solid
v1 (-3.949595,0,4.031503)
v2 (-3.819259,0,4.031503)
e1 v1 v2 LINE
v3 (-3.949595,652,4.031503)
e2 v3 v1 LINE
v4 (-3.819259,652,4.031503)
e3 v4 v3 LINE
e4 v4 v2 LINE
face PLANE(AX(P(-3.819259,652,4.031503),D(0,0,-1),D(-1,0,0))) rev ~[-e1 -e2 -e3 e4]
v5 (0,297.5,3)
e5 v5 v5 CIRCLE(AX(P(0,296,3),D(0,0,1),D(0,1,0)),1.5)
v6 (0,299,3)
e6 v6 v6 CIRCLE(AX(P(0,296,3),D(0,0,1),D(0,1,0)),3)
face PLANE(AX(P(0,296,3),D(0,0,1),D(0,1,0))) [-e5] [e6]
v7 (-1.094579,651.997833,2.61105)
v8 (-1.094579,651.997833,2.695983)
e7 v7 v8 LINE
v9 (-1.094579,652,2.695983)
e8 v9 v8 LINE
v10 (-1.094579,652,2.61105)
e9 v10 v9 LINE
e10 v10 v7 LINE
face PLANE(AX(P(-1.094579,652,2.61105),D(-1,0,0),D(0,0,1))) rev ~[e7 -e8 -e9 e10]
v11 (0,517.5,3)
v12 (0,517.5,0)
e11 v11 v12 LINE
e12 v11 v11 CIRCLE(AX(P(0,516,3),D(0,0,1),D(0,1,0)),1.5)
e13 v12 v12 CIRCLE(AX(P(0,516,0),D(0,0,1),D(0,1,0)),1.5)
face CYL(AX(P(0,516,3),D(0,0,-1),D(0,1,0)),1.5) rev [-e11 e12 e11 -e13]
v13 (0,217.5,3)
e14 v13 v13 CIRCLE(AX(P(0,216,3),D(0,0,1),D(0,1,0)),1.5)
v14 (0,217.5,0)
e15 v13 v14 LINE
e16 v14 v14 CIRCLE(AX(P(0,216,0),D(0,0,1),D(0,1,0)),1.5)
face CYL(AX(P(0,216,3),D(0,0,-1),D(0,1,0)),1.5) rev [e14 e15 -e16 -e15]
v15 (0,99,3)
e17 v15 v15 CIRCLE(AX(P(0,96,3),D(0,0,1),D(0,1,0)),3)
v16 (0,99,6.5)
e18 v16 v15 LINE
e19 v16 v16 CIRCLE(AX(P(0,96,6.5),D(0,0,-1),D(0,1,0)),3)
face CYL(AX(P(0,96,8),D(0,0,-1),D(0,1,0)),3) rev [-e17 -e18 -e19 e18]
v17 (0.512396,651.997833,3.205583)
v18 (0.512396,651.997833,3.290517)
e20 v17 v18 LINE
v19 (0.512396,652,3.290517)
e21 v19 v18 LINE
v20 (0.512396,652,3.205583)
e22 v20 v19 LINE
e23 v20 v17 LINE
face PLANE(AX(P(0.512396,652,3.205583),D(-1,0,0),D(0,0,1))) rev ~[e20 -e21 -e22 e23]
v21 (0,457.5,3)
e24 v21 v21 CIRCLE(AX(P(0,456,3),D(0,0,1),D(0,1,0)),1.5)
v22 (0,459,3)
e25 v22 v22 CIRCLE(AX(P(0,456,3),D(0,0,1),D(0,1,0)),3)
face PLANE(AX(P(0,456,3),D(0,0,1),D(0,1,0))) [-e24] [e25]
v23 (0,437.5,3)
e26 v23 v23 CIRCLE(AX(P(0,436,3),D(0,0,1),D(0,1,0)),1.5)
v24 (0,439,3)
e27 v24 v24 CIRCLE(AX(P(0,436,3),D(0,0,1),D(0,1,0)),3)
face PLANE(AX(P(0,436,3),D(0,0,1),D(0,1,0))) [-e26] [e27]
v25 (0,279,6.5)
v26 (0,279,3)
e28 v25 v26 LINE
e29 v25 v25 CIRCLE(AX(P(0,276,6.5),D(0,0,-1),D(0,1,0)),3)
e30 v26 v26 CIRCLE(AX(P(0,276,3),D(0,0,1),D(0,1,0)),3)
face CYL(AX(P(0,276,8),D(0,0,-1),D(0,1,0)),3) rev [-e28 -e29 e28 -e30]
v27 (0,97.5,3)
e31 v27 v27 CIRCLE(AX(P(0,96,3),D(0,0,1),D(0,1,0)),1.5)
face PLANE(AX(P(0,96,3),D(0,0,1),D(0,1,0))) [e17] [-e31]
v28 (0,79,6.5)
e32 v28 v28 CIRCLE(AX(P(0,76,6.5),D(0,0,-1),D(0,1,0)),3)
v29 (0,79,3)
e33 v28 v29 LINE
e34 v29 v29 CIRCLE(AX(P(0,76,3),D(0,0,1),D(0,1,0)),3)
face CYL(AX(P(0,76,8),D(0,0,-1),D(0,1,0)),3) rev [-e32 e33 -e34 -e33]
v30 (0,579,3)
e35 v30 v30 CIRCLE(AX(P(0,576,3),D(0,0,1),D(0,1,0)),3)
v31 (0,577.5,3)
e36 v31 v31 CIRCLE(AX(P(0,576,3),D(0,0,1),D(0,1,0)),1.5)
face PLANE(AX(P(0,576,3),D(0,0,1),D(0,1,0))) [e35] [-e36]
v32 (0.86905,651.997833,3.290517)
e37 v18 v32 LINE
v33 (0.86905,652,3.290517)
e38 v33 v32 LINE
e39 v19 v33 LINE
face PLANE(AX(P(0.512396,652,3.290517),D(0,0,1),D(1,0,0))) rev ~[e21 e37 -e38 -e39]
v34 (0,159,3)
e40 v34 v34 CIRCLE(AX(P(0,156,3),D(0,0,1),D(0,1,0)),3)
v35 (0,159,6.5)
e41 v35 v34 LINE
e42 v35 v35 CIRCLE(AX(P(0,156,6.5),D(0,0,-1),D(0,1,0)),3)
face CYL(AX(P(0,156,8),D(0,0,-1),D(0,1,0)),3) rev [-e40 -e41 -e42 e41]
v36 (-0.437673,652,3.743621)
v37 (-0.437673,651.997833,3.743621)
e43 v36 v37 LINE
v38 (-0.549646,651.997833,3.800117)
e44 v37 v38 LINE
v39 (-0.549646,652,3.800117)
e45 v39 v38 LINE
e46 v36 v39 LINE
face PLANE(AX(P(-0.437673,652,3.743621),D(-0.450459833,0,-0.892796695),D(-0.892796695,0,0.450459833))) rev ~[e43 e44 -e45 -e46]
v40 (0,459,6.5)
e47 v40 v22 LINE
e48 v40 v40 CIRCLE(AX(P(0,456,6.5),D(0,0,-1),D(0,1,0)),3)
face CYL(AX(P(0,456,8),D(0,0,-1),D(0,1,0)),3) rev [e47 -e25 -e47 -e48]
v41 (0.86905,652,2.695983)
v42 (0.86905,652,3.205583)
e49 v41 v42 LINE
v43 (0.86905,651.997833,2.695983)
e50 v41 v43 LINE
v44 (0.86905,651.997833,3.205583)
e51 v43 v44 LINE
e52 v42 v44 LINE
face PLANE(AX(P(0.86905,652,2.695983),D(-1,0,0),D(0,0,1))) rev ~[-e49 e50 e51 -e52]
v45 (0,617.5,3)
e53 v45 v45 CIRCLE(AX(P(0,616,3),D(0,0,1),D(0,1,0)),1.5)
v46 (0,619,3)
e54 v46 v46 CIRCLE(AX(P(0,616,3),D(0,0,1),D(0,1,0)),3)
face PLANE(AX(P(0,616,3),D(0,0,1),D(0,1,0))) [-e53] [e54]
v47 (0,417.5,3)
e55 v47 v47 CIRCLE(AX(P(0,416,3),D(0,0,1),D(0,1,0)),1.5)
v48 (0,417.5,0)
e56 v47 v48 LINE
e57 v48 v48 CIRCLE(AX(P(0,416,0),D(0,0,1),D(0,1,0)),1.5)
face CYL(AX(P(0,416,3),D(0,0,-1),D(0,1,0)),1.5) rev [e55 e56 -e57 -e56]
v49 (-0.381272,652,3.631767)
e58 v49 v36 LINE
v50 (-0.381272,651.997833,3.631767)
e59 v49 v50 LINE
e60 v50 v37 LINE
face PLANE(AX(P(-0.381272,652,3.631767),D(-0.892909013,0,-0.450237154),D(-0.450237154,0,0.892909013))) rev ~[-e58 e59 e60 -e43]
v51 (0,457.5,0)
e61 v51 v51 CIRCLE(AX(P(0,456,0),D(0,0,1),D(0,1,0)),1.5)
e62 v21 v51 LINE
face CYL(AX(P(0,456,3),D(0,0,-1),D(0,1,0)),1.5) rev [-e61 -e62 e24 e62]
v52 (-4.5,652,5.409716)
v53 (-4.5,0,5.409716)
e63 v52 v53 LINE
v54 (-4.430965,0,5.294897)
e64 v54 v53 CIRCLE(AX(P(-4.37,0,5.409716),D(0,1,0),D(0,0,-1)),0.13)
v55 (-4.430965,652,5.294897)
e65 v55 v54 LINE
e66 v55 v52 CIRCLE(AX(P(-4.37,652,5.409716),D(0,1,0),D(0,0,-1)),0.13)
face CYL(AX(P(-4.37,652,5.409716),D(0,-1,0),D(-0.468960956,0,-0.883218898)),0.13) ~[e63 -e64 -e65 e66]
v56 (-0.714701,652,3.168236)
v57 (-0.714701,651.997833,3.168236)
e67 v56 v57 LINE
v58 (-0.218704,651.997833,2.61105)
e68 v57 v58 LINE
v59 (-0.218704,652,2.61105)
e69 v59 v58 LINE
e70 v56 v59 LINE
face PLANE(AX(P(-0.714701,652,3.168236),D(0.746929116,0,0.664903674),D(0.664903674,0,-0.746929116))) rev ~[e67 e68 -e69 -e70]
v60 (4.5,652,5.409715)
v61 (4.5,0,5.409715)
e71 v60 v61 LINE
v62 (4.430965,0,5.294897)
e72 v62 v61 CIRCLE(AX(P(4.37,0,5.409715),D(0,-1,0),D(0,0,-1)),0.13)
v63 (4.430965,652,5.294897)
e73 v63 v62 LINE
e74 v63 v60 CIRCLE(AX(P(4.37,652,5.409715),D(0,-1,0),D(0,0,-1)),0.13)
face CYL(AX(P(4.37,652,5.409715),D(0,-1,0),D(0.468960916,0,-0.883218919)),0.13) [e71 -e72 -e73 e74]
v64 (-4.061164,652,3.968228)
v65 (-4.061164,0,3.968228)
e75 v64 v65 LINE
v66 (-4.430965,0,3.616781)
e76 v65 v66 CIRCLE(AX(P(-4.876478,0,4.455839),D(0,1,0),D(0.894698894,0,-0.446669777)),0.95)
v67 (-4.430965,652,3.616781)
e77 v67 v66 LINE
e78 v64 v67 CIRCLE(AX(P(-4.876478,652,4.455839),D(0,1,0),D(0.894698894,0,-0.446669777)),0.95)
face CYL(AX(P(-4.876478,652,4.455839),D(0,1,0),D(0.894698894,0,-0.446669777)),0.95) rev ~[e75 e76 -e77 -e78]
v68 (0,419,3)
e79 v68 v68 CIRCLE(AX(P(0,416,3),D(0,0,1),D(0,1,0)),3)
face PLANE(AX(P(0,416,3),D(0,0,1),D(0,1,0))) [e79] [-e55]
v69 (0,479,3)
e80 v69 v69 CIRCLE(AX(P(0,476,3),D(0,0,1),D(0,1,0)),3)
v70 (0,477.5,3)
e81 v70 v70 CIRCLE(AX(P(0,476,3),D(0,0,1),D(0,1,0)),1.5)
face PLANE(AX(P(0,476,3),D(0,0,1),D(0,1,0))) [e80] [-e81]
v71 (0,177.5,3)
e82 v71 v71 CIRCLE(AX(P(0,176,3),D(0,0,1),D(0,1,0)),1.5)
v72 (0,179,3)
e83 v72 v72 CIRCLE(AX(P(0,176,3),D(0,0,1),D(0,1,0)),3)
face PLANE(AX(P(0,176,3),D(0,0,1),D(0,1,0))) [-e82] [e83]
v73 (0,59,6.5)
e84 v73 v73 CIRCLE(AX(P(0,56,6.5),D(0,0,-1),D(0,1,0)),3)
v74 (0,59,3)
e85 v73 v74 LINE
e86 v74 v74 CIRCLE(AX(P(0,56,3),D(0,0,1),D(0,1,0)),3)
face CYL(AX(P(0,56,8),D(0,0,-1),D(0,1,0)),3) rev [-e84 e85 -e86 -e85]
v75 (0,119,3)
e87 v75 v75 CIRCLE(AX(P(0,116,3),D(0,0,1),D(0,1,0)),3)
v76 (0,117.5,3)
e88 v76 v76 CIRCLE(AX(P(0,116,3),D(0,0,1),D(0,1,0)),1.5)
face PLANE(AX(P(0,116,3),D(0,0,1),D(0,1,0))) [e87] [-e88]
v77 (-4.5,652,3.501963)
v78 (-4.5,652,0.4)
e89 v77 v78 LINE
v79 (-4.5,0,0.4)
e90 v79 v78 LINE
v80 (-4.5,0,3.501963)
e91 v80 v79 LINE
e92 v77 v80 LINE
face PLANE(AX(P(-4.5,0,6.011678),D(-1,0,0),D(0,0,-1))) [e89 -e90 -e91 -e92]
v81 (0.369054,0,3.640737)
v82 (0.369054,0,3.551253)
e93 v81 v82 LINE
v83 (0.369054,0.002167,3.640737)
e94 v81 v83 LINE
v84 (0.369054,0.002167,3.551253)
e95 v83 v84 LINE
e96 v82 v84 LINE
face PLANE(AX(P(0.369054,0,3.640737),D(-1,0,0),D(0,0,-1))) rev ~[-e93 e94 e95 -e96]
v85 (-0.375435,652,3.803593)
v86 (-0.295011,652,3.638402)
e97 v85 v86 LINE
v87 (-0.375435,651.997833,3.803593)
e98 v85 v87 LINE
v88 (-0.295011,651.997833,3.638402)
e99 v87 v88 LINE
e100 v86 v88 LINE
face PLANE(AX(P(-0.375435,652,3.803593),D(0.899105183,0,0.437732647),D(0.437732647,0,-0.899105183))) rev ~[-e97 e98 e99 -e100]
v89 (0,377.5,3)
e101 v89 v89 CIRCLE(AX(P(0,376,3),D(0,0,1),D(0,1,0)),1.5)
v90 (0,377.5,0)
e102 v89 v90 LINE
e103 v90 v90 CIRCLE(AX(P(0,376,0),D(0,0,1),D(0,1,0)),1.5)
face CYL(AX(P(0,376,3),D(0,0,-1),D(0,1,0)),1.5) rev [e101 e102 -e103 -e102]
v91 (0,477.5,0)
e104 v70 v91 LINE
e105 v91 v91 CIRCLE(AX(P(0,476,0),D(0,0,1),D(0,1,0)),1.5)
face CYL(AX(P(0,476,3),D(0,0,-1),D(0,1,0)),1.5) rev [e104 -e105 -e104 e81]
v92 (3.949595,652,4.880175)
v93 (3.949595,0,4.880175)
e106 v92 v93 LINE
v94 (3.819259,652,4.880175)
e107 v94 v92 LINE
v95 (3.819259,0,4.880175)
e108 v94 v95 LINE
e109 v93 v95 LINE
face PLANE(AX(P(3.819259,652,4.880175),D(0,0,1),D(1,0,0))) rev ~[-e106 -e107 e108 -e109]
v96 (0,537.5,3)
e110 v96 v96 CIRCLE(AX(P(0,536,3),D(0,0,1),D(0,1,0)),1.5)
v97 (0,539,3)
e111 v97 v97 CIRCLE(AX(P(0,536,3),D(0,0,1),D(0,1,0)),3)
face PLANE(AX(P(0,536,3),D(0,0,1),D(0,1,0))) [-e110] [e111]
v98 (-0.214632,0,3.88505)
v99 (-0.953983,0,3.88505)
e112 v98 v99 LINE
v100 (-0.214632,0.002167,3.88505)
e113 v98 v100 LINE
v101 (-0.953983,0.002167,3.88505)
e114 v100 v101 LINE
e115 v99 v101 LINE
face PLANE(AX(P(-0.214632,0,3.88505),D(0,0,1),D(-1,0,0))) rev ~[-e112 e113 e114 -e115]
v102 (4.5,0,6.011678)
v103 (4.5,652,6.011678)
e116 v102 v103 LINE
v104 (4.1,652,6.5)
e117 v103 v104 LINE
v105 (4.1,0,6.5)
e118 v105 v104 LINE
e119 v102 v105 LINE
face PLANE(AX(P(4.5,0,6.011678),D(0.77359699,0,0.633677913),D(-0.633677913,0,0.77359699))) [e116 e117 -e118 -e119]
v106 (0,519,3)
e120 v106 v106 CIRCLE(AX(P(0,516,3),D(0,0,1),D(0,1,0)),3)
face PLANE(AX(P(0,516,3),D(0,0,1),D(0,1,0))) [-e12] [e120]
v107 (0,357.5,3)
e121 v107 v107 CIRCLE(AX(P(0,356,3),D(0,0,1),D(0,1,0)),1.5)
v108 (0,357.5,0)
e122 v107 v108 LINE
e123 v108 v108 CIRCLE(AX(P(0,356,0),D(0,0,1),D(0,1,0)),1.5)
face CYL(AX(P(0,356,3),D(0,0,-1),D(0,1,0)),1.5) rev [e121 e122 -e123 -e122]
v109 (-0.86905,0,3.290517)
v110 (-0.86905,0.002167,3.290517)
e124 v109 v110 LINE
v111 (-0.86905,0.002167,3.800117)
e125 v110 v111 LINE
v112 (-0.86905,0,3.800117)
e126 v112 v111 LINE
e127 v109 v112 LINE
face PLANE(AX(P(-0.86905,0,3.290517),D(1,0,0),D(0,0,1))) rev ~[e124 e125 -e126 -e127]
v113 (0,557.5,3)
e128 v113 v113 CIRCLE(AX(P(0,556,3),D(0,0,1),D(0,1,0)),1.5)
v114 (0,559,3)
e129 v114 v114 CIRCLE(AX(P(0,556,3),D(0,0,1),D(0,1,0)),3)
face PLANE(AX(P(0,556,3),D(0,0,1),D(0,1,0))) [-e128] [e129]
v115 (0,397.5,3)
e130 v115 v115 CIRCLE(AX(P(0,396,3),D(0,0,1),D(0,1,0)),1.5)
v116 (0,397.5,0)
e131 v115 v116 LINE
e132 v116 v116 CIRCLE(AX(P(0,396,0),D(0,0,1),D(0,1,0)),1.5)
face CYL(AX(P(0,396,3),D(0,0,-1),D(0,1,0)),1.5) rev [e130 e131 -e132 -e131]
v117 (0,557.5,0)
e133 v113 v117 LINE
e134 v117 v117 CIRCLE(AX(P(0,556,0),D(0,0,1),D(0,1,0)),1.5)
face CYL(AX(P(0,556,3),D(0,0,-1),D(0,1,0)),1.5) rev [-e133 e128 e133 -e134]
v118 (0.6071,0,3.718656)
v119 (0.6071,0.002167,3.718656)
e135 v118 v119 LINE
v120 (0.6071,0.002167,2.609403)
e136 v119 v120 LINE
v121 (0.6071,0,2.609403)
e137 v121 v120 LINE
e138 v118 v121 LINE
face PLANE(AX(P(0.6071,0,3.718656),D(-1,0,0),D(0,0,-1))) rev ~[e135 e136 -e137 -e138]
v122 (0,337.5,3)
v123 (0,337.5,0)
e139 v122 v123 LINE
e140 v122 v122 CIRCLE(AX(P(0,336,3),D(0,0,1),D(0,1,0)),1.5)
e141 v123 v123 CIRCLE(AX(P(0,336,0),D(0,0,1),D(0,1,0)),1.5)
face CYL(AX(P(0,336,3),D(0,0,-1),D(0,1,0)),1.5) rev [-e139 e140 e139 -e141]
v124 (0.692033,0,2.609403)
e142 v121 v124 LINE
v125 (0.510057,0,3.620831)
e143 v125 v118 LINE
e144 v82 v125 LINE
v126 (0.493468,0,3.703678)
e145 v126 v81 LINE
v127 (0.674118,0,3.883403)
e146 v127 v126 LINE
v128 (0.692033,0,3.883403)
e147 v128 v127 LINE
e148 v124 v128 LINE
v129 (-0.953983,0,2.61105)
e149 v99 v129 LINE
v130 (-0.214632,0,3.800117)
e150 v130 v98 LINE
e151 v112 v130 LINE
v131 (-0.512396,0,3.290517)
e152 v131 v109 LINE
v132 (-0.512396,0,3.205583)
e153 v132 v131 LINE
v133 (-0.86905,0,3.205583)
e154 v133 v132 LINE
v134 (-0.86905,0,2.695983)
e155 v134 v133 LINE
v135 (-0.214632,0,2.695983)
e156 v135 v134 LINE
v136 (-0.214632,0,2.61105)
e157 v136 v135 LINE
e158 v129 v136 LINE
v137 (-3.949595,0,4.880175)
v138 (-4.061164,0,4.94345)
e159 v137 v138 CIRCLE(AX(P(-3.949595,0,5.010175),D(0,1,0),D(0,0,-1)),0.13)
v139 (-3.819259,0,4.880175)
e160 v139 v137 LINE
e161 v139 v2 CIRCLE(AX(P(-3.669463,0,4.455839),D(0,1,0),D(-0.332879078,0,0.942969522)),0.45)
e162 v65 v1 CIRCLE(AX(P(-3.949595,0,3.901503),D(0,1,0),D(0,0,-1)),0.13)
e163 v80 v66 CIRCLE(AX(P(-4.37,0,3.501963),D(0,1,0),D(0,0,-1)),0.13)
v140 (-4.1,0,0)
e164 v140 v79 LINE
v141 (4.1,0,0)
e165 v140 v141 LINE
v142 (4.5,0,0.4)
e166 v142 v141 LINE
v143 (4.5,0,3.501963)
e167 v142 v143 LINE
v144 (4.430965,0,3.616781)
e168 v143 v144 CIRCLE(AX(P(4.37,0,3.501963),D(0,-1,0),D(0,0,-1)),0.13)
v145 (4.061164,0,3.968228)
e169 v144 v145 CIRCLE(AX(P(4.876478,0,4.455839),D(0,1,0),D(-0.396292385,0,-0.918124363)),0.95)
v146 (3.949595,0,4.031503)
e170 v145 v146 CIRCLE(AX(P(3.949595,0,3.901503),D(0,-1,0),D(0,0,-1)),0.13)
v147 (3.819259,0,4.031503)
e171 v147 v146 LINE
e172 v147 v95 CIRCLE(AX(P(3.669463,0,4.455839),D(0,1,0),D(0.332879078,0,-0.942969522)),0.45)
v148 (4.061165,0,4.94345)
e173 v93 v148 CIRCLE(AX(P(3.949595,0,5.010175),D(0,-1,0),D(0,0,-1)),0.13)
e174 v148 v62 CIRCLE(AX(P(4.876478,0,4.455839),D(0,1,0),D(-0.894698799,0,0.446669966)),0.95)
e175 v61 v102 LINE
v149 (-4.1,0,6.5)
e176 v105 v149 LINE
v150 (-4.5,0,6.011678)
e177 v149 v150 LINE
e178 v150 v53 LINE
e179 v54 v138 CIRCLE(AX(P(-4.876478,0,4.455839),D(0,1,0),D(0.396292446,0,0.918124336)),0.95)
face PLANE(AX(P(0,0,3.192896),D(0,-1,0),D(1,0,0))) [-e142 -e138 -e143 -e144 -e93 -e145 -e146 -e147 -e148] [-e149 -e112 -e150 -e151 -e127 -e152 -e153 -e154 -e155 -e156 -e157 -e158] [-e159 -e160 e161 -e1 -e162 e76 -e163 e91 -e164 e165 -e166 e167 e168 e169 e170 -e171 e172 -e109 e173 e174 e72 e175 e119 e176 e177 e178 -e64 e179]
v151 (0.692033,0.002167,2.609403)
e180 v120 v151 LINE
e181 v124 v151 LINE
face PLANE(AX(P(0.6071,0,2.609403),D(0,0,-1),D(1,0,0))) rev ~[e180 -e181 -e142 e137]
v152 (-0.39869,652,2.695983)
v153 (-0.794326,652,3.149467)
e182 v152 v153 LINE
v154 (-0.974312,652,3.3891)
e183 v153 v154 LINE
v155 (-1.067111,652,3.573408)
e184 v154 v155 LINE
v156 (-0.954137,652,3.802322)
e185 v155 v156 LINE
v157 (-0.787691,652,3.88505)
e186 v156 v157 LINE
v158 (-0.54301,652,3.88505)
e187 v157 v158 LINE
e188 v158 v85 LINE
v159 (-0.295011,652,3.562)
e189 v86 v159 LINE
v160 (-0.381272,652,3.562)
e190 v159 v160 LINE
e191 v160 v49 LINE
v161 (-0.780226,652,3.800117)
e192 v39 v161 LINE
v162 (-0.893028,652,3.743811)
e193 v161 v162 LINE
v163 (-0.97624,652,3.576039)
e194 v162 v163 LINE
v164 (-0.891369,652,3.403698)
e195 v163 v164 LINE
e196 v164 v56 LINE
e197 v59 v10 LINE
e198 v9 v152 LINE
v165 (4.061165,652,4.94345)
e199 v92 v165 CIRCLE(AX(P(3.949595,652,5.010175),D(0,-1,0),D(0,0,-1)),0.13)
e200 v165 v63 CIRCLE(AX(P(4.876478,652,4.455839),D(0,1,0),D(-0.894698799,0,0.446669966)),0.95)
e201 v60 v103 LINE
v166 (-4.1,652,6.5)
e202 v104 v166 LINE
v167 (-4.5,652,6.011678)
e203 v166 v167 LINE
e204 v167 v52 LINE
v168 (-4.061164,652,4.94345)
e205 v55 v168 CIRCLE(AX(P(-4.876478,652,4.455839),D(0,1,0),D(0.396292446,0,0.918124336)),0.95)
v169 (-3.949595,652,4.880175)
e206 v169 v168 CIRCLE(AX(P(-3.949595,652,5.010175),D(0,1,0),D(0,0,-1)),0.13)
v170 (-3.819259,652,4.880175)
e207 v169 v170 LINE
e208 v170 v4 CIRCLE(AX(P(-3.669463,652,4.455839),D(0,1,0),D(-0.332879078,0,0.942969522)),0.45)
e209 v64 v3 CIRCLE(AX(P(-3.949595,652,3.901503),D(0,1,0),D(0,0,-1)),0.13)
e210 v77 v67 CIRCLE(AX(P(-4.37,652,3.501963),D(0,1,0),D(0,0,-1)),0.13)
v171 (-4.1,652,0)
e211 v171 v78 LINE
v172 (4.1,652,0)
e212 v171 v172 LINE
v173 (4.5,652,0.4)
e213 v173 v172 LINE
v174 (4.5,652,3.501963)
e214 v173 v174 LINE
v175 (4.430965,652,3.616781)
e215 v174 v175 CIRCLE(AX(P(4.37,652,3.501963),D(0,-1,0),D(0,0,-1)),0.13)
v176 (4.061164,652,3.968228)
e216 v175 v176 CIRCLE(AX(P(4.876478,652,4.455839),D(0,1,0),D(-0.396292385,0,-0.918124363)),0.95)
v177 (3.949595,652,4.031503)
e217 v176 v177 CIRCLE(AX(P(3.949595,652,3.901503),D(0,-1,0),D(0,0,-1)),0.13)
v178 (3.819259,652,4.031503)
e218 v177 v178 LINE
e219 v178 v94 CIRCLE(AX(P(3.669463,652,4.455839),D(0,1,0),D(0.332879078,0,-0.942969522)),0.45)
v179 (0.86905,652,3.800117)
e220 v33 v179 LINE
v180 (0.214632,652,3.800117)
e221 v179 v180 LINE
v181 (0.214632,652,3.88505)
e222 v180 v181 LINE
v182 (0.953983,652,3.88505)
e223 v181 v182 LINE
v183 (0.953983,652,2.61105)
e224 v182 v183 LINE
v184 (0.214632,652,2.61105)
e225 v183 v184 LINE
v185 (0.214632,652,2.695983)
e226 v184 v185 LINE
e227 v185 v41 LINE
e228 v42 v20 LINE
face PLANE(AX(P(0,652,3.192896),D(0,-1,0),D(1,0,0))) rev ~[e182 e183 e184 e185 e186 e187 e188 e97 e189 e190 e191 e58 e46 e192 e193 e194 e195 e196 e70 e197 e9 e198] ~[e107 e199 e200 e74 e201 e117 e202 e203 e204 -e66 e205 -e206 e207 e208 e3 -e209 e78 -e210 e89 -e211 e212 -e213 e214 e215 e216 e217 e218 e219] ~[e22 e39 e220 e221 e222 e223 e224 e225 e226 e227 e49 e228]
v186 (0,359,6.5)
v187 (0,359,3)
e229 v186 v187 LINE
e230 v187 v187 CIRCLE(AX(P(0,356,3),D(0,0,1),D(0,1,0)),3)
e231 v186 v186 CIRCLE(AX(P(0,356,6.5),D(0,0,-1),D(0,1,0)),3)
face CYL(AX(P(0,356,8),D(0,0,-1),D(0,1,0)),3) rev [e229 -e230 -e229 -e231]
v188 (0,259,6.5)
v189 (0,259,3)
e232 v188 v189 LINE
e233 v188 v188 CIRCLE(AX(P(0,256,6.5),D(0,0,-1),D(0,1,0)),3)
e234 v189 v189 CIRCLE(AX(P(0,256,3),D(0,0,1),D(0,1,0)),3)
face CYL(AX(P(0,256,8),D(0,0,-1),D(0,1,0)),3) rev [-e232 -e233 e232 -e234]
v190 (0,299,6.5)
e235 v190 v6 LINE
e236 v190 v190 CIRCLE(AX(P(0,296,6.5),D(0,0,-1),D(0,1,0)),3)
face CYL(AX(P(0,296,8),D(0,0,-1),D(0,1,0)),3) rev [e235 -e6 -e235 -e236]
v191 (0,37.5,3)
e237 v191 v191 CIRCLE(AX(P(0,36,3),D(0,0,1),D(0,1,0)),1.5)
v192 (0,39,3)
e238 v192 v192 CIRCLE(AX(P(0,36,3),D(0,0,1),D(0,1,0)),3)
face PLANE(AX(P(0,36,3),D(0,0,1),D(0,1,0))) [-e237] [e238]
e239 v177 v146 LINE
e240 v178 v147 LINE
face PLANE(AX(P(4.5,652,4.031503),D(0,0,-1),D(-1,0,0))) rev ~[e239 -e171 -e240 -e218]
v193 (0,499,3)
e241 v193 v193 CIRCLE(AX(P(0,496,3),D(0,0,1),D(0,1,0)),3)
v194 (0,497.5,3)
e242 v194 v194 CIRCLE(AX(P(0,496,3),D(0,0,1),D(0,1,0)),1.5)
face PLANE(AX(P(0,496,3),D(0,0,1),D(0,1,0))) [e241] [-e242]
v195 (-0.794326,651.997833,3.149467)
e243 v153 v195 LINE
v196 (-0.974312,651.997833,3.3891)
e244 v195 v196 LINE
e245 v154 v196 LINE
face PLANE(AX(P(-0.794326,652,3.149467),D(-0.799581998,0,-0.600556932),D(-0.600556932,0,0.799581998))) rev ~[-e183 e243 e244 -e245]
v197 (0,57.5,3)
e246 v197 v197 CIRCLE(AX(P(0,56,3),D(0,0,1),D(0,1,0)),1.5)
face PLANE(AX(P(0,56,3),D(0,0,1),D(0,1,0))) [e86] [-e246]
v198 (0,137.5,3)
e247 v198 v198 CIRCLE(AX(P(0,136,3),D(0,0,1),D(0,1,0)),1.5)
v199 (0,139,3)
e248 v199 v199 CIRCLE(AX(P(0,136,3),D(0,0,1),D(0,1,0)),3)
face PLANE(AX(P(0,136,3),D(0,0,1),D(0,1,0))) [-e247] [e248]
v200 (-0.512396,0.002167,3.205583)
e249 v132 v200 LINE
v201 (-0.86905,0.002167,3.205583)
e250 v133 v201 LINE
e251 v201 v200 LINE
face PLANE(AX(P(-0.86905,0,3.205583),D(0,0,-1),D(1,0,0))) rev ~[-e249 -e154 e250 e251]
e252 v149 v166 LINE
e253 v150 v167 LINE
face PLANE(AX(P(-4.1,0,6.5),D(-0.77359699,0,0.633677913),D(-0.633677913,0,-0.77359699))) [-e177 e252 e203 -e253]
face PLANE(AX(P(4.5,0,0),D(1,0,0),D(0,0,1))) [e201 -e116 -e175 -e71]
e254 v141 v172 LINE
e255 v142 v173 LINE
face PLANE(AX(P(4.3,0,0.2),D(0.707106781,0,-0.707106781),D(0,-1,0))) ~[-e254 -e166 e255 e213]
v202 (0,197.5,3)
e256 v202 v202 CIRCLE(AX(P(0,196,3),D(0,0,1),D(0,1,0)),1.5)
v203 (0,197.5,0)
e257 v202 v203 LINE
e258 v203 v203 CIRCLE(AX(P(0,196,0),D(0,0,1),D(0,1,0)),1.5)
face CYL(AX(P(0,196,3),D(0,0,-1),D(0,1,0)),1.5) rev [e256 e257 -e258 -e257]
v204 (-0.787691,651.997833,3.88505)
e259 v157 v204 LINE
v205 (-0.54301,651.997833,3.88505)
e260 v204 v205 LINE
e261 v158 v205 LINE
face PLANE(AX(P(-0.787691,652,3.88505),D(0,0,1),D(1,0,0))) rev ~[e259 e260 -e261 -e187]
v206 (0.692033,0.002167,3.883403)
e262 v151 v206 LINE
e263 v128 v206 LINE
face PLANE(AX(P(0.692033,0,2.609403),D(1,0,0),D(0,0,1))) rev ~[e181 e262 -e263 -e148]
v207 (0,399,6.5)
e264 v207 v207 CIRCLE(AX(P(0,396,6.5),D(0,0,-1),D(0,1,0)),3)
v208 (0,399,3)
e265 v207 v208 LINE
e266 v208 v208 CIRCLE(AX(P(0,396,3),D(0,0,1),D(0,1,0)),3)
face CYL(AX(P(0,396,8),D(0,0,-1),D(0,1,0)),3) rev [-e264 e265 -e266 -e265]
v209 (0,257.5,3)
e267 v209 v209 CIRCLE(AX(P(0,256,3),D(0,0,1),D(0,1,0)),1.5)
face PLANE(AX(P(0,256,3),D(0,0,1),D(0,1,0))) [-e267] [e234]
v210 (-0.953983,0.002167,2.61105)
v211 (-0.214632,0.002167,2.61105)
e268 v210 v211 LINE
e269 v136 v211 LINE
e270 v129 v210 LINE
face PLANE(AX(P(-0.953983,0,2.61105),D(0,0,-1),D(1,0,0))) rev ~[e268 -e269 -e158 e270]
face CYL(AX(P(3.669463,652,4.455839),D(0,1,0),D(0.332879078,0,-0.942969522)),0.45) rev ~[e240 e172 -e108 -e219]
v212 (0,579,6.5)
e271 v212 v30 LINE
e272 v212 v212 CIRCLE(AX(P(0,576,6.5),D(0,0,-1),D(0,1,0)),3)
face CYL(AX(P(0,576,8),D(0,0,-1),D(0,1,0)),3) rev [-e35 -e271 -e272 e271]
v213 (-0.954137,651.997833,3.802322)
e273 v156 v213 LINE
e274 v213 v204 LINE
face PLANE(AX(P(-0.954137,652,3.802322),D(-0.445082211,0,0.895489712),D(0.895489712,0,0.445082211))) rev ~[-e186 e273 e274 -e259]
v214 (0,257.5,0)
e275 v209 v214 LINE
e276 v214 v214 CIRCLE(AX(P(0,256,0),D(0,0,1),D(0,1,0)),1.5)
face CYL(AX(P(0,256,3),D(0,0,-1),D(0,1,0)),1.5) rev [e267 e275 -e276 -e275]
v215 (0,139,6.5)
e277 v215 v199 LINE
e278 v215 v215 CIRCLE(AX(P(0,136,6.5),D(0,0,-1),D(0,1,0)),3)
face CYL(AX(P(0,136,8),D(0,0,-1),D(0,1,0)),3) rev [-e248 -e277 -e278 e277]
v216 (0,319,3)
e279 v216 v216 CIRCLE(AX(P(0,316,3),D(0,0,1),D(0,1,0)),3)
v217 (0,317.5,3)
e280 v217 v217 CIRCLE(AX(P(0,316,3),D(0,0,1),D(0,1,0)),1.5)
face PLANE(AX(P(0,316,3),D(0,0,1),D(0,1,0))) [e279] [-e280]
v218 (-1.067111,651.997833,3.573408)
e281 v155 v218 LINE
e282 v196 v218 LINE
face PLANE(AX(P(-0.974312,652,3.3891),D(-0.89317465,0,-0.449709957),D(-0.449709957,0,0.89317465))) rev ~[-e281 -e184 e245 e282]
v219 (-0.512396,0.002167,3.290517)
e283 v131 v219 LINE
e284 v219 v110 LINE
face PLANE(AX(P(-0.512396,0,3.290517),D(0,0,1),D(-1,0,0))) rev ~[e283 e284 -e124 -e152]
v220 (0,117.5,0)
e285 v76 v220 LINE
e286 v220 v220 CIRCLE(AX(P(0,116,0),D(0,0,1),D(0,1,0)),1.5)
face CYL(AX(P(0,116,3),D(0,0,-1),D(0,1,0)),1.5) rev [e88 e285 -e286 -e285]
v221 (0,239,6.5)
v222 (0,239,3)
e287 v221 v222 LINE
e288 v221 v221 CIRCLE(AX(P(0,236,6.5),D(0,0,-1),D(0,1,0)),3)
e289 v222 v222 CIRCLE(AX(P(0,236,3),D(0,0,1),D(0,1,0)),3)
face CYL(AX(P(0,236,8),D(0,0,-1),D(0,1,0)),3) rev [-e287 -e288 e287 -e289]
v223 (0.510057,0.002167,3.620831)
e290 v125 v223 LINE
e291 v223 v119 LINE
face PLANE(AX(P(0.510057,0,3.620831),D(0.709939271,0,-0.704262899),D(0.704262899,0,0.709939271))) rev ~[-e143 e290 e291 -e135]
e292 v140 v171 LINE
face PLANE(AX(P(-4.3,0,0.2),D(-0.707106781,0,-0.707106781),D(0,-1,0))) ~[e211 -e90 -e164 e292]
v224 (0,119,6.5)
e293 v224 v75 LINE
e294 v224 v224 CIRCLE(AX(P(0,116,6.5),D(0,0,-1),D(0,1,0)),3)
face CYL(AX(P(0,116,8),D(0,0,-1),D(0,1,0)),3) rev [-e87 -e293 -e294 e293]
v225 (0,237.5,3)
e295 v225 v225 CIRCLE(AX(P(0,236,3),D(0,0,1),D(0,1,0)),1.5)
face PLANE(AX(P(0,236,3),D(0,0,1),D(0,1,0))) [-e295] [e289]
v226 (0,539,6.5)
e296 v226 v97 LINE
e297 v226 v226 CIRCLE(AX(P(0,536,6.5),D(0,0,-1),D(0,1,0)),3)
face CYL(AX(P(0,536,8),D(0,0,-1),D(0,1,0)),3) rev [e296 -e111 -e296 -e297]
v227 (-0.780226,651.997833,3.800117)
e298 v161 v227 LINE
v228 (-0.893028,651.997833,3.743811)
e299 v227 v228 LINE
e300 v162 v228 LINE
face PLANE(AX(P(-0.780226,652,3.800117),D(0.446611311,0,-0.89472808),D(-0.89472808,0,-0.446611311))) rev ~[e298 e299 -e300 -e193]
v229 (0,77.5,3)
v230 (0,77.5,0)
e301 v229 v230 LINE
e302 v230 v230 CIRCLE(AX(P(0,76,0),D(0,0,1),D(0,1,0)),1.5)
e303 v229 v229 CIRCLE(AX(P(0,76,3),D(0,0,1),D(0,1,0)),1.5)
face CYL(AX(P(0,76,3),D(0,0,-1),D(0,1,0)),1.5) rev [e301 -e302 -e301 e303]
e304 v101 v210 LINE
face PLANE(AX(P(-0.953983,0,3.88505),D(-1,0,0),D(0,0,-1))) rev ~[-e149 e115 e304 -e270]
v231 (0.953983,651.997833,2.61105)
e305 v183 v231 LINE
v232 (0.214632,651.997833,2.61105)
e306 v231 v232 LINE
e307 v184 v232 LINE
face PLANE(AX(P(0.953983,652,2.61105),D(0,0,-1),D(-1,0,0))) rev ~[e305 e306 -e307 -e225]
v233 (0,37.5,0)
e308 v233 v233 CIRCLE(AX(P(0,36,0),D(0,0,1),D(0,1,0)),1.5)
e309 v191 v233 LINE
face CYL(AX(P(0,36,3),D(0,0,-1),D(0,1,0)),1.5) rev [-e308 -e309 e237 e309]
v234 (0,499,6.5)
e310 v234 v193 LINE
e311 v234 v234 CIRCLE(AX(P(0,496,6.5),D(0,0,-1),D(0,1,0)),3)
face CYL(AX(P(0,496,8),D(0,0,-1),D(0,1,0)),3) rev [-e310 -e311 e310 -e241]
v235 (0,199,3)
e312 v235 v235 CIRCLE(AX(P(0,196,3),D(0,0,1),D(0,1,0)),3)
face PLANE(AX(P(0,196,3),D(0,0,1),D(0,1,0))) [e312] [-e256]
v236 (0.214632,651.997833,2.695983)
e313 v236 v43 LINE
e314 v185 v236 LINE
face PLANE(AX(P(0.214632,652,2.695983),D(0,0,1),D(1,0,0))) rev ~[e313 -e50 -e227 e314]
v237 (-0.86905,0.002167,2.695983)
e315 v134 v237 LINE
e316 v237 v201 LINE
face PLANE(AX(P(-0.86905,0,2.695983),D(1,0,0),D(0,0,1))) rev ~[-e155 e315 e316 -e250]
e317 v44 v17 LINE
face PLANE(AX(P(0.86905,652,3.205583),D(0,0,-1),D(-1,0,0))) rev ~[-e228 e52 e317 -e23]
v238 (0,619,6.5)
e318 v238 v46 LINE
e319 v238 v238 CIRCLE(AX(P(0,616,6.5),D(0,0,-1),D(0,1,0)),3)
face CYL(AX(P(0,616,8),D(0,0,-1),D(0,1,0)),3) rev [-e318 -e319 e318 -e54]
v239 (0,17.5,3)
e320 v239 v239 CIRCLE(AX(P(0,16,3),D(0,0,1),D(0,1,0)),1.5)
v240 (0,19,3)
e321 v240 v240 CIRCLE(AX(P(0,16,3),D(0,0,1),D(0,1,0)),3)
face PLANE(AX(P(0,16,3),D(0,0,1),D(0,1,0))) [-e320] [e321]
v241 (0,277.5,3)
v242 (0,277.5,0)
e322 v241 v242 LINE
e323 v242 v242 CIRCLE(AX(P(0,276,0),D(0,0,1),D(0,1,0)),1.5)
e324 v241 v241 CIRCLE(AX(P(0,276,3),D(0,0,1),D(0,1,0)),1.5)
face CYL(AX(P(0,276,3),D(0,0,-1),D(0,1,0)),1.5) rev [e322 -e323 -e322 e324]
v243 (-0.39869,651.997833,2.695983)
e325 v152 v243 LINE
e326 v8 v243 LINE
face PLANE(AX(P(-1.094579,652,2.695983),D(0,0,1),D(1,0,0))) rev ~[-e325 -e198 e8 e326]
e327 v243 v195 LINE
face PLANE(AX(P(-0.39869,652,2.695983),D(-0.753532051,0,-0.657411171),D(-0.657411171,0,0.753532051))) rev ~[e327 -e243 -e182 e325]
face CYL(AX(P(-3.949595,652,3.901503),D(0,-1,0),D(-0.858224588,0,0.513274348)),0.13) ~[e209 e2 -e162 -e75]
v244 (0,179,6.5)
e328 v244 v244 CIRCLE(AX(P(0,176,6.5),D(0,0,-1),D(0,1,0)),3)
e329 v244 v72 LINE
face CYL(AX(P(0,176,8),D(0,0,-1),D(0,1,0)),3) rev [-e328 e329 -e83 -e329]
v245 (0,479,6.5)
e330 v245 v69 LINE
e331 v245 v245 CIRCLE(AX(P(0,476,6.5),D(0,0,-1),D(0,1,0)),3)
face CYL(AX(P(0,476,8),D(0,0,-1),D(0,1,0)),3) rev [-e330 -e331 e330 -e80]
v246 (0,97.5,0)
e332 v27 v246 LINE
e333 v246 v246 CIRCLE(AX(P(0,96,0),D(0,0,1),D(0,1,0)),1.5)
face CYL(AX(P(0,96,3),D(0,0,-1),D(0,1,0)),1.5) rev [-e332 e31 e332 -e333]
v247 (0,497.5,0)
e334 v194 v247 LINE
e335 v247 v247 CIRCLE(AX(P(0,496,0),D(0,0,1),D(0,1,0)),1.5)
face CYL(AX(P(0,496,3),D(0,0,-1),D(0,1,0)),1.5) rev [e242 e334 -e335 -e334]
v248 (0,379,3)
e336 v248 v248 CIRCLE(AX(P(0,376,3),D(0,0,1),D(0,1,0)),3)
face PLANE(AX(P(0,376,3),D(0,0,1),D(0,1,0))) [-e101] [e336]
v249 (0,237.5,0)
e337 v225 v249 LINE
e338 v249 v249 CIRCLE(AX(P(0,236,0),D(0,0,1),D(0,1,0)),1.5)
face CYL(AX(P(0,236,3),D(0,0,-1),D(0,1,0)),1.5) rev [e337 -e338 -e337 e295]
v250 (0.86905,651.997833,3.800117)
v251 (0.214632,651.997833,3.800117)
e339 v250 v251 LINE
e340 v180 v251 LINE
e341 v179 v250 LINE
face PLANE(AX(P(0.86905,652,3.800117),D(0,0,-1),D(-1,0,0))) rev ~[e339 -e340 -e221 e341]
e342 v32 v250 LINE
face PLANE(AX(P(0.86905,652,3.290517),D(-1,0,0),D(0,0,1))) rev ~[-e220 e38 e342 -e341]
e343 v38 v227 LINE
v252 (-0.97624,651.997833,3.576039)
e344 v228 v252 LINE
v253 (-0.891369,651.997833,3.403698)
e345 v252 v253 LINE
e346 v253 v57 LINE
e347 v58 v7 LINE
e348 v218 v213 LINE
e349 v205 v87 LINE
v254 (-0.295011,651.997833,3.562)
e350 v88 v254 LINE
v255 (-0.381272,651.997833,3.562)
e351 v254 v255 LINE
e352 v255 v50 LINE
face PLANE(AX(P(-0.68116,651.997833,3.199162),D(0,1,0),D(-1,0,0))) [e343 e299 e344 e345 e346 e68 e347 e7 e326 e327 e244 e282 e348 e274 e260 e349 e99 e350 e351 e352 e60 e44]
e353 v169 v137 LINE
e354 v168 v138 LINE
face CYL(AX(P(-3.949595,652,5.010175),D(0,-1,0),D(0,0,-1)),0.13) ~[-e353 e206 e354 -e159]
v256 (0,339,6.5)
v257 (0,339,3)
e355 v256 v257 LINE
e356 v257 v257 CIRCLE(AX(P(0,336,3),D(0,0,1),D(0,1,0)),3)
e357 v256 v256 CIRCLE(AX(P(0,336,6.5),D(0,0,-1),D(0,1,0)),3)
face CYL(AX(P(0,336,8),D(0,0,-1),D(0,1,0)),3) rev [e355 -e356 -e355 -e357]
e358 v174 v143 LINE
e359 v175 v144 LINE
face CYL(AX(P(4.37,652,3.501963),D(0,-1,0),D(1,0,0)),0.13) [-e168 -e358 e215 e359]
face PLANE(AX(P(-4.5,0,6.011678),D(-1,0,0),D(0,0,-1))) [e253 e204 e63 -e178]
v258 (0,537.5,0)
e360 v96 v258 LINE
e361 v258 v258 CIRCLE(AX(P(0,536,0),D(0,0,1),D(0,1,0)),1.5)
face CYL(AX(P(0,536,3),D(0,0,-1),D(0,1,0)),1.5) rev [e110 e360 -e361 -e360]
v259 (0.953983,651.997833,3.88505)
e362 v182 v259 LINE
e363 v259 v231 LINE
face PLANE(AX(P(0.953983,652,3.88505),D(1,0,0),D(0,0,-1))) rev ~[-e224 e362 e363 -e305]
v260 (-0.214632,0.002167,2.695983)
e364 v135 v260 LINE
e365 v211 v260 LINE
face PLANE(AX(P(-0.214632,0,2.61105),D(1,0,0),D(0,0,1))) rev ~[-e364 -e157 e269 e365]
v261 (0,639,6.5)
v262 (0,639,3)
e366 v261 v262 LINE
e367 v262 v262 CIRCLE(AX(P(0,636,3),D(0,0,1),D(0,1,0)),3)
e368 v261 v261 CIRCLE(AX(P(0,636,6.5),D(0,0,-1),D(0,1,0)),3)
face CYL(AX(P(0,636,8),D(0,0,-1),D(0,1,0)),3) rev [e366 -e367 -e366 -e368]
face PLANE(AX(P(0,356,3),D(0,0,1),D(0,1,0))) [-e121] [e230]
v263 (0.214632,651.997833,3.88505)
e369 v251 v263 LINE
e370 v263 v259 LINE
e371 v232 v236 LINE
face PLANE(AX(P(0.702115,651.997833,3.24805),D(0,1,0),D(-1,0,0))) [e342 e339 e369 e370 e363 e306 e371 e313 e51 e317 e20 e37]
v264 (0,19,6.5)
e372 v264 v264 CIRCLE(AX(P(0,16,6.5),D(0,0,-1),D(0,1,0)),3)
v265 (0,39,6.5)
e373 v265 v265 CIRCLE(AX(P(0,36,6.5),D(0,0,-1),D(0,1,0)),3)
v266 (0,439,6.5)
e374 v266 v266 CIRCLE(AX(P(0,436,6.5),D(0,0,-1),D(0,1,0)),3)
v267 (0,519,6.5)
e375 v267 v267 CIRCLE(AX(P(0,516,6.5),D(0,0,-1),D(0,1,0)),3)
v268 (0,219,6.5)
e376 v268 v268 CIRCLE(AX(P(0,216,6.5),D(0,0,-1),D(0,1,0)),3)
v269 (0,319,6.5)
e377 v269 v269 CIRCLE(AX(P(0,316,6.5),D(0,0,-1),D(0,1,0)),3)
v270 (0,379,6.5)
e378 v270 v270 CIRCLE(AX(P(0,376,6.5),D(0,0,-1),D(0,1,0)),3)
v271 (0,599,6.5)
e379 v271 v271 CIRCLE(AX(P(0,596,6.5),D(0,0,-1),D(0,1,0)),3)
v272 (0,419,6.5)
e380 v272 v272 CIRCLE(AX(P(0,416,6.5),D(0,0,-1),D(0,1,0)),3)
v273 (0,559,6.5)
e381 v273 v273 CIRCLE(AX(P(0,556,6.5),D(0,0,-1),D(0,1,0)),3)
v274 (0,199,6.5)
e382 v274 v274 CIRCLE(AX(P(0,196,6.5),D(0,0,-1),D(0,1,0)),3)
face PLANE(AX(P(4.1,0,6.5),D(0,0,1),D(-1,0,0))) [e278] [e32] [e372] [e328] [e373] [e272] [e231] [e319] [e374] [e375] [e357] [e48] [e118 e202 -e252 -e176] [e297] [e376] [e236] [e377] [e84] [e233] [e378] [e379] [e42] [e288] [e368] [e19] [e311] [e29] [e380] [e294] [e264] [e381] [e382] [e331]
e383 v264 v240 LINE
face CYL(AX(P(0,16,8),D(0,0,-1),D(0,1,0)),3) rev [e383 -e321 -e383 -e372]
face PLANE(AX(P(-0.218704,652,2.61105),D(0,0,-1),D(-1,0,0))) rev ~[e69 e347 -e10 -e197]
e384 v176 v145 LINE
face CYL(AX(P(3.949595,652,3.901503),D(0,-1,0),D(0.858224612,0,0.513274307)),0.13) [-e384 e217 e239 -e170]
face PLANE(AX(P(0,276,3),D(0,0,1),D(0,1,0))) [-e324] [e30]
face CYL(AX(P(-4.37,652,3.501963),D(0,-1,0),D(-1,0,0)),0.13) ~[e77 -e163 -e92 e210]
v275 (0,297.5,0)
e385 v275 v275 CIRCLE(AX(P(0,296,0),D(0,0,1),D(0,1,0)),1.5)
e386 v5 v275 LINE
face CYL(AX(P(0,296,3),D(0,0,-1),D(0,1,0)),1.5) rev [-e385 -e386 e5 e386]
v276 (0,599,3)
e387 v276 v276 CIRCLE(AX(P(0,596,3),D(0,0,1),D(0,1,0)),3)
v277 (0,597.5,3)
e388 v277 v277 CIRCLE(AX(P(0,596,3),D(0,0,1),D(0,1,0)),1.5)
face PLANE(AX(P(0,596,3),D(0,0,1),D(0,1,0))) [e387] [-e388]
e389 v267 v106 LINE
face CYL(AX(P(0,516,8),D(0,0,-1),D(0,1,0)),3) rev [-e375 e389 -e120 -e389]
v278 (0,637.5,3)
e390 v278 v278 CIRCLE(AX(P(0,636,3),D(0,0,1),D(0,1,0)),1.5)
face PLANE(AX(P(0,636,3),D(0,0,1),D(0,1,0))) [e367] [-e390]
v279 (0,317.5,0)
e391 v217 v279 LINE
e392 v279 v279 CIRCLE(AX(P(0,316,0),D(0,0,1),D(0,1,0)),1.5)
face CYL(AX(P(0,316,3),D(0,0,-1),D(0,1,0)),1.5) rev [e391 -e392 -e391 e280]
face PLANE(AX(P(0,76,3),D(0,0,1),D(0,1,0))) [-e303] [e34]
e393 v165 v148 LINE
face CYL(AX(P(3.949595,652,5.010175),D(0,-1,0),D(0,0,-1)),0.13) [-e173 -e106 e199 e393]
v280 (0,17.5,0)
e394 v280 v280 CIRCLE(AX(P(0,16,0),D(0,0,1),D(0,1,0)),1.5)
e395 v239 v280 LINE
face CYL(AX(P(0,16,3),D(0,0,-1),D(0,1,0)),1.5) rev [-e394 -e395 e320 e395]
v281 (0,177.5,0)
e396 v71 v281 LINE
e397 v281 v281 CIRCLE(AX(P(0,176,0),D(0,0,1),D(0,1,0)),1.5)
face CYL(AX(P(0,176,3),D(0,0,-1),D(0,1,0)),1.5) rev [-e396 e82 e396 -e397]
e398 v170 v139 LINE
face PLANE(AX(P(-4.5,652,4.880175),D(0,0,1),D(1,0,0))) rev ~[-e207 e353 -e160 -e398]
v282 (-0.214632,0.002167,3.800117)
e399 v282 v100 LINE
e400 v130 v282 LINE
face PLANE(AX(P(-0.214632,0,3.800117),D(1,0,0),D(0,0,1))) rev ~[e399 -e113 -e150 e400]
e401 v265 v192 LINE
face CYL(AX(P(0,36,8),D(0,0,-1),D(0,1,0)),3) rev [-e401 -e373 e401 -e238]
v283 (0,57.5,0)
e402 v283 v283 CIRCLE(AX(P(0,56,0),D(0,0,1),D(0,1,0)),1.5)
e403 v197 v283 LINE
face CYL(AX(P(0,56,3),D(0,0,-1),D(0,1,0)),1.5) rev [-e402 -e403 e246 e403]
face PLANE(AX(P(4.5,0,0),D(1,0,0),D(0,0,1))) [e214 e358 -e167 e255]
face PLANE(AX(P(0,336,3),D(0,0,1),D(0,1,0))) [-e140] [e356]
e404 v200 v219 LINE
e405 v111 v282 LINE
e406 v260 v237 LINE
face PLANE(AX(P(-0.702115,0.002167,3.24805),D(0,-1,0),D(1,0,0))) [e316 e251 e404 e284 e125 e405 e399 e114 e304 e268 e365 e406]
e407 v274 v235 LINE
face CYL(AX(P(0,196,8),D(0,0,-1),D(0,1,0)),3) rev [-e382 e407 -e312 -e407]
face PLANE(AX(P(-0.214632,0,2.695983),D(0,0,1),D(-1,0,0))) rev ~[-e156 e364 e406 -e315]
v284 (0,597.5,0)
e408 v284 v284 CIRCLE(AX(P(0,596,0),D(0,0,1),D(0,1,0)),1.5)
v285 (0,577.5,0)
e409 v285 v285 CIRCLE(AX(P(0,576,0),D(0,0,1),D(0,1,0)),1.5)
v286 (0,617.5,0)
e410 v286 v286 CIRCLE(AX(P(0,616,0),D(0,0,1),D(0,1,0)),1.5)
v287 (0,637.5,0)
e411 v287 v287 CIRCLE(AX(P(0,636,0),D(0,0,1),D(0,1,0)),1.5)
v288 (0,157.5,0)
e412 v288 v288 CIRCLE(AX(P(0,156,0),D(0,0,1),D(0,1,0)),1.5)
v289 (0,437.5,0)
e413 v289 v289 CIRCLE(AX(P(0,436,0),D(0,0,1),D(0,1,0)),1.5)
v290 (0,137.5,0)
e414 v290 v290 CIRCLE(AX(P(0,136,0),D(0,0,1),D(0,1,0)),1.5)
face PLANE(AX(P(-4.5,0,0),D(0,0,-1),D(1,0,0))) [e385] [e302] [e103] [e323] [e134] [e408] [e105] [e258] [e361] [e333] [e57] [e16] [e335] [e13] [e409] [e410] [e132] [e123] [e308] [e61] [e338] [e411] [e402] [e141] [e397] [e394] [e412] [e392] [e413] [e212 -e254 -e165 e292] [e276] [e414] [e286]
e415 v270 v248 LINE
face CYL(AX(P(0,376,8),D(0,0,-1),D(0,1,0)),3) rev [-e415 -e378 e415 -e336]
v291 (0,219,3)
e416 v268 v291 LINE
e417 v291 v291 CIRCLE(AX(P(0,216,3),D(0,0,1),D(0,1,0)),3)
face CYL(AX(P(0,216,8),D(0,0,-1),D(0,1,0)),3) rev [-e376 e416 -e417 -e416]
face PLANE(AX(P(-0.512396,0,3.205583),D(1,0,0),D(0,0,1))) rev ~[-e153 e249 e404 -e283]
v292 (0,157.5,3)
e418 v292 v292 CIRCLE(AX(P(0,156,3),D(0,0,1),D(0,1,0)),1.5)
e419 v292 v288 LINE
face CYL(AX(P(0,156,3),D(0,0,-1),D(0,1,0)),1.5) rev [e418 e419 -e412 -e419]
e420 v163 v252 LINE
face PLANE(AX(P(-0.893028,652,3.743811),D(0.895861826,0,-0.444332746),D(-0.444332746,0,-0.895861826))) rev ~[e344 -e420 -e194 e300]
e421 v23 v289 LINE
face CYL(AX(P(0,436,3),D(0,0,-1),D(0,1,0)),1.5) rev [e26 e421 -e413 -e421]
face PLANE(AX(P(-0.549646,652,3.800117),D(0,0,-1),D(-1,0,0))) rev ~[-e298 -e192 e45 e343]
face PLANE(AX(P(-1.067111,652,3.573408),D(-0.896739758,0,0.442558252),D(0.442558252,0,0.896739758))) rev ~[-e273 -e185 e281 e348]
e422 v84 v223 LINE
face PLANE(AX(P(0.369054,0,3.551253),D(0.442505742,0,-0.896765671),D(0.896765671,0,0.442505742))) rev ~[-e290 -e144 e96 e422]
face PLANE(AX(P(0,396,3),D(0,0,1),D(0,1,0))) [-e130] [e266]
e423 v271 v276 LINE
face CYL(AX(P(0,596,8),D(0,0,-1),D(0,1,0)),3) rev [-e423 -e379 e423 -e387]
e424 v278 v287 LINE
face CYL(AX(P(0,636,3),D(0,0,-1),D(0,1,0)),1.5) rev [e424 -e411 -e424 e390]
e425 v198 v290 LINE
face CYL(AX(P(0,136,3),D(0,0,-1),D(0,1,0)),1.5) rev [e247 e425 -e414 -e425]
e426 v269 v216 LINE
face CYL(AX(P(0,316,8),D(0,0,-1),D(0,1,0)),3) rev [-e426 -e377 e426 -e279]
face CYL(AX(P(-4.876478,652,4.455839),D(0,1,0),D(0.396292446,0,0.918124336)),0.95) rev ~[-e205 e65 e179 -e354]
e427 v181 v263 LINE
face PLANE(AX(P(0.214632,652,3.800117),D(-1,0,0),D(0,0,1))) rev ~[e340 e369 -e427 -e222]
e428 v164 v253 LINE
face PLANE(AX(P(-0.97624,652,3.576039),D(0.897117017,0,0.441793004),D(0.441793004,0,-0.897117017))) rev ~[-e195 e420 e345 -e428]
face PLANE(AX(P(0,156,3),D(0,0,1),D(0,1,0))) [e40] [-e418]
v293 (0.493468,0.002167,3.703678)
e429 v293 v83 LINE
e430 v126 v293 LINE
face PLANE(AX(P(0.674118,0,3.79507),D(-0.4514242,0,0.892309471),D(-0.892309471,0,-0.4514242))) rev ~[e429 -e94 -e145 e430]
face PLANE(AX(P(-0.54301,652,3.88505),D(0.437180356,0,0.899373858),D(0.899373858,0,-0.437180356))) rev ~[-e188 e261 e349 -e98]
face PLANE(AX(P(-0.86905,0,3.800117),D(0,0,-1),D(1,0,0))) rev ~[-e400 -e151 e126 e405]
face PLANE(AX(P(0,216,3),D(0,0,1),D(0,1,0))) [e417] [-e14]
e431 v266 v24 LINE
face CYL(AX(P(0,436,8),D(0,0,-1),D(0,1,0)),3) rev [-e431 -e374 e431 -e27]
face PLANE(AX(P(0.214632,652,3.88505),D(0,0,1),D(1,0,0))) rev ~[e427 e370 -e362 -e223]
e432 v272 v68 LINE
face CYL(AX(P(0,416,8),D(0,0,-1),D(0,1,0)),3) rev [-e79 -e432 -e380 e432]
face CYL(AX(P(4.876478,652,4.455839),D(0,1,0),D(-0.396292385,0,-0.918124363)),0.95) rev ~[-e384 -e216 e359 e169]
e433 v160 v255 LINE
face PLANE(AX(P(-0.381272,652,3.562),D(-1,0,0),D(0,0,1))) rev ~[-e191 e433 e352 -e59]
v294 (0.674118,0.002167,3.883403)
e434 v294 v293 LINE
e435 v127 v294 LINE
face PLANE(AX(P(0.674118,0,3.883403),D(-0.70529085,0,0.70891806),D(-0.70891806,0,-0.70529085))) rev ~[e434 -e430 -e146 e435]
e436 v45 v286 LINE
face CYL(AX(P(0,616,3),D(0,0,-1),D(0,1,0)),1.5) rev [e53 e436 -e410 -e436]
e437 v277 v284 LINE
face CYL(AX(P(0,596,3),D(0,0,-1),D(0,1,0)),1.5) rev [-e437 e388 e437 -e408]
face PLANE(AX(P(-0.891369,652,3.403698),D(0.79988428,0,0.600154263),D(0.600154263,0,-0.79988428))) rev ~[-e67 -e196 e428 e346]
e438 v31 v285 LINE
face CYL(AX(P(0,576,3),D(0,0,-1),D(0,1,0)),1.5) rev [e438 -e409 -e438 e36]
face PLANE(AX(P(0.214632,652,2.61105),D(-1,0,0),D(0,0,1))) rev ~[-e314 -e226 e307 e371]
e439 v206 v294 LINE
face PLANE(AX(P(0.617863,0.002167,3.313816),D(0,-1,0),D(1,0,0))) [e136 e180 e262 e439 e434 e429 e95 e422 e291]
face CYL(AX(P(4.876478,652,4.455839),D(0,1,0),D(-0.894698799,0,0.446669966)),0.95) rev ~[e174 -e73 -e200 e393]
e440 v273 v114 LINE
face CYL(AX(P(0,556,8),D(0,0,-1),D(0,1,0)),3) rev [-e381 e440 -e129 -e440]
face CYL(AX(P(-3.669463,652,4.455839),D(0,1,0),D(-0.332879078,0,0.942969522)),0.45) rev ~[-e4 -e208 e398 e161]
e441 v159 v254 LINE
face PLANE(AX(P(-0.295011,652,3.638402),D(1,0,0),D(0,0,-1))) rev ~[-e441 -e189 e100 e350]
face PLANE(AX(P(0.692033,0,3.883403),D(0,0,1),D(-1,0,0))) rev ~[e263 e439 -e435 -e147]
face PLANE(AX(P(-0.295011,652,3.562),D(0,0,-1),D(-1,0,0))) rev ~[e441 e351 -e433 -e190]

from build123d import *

# Parameters (mm, degrees)
SALIENTE_EXTRUIR1_DEPTH = 652
CORTAR_EXTRUIR1_DEPTH   = 653
CORTAR_EXTRUIR2_DEPTH   = 653
CORTAR_EXTRUIR3_DEPTH   = 653
CORTAR_EXTRUIR4_DEPTH   = 653
CORTAR_EXTRUIR5_DEPTH   = 653
CORTAR_EXTRUIR6_DEPTH   = 653
CORTAR_EXTRUIR7_DEPTH   = 0.002166667
CORTAR_EXTRUIR8_DEPTH   = 0.002166667
CORTAR_EXTRUIR9_DEPTH   = 0.002166667
CORTAR_EXTRUIR10_DEPTH  = 0.002166667
NGULO_DE_SALIDA1_ANGLE  = 45.1469538
CHAFL_N1_SIZE           = 0.4
REDONDEO1_R             = 0.130000023
MATRIZL2_COUNT          = 32
MATRIZL2_PITCH          = 20


with BuildPart() as part:
    # Croquis1 → Saliente-Extruir1 (new body)
    with BuildSketch(Plane.XZ):
        Polygon((4.5, 0), (4.5, 6.01167813), (4.1, 6.50000002), (-4.1, 6.50000002), (-4.5, 6.01167813), (-4.5, 0), align=None)
    extrude(amount=-SALIENTE_EXTRUIR1_DEPTH)

    # Croquis2 → Cortar-Extruir1 (cut, through all)
    with BuildSketch(Plane(origin=(0, 652, 0), x_dir=(-1, 0, 0), z_dir=(0, 1, 0))):
        with BuildLine():
            Line((-4.5, 4.88017535), (-4.5, 4.03150278))
            Line((-4.5, 4.03150278), (-3.819258765, 4.03150278))
            ThreePointArc((-3.819258765, 4.03150278), (-3.21946318, 4.455839065), (-3.819258765, 4.88017535))
            Line((-3.819258765, 4.88017535), (-4.5, 4.88017535))
        make_face()
    extrude(amount=-CORTAR_EXTRUIR1_DEPTH, mode=Mode.SUBTRACT)

    # Croquis3 → Cortar-Extruir2 (cut, through all)
    with BuildSketch(Plane(origin=(0, 652, 0), x_dir=(-1, 0, 0), z_dir=(0, 1, 0))):
        with BuildLine():
            Line((-4.026513856, 4.03150278), (-4.5, 4.03150278))
            Line((-4.5, 4.03150278), (-4.5, 3.583620931))
            ThreePointArc((-4.5, 3.583620931), (-4.223645982, 3.76568645), (-4.026513856, 4.03150278))
        make_face()
    extrude(amount=-CORTAR_EXTRUIR2_DEPTH, mode=Mode.SUBTRACT)

    # Croquis4 → Cortar-Extruir3 (cut, through all)
    with BuildSketch(Plane(origin=(0, 652, 0), x_dir=(-1, 0, 0), z_dir=(0, 1, 0))):
        with BuildLine():
            Line((-4.5, 5.328056964), (-4.5, 4.88017535))
            Line((-4.5, 4.88017535), (-4.026513974, 4.88017535))
            ThreePointArc((-4.026513974, 4.88017535), (-4.223646078, 5.145991535), (-4.5, 5.328056964))
        make_face()
    extrude(amount=-CORTAR_EXTRUIR3_DEPTH, mode=Mode.SUBTRACT)

    # Croquis5 → Cortar-Extruir4 (cut, through all)
    with BuildSketch(Plane(origin=(0, 652, 0), x_dir=(-1, 0, 0), z_dir=(0, 1, 0))):
        with BuildLine():
            Line((4.5, 4.03150278), (4.5, 4.88017535))
            Line((4.5, 4.88017535), (3.819258765, 4.88017535))
            ThreePointArc((3.819258765, 4.88017535), (3.21946318, 4.455839065), (3.819258765, 4.03150278))
            Line((3.819258765, 4.03150278), (4.5, 4.03150278))
        make_face()
    extrude(amount=-CORTAR_EXTRUIR4_DEPTH, mode=Mode.SUBTRACT)

    # Croquis6 → Cortar-Extruir5 (cut, through all)
    with BuildSketch(Plane(origin=(0, 652, 0), x_dir=(-1, 0, 0), z_dir=(0, 1, 0))):
        with BuildLine():
            Line((4.026513826, 4.88017535), (4.5, 4.88017535))
            Line((4.5, 4.88017535), (4.5, 5.328057255))
            ThreePointArc((4.5, 5.328057255), (4.223645966, 5.145991706), (4.026513826, 4.88017535))
        make_face()
    extrude(amount=-CORTAR_EXTRUIR5_DEPTH, mode=Mode.SUBTRACT)

    # Croquis7 → Cortar-Extruir6 (cut, through all)
    with BuildSketch(Plane(origin=(0, 652, 0), x_dir=(-1, 0, 0), z_dir=(0, 1, 0))):
        with BuildLine():
            Line((4.5, 3.583620926), (4.5, 4.03150278))
            Line((4.5, 4.03150278), (4.026513851, 4.03150278))
            ThreePointArc((4.026513851, 4.03150278), (4.223645987, 3.765686455), (4.5, 3.583620926))
        make_face()
    extrude(amount=-CORTAR_EXTRUIR6_DEPTH, mode=Mode.SUBTRACT)

    # Croquis8 → Cortar-Extruir7 (cut)
    with BuildSketch(Plane(origin=(0, 652, 0), x_dir=(-1, 0, 0), z_dir=(0, 1, 0))):
        Polygon((0.891369267, 3.403698133), (0.714701433, 3.168235633), (0.2187042, 2.61105), (1.0945792, 2.61105), (1.0945792, 2.695983333), (0.398689633, 2.695983333), (0.794326433, 3.149466667), (0.9743123, 3.3891), (1.067110588, 3.573407857), (0.95413722, 3.802321701), (0.7876908, 3.88505), (0.54301, 3.88505), (0.375434678, 3.803592619), (0.295011167, 3.6384023), (0.295011167, 3.562), (0.3812718, 3.562), (0.3812718, 3.631766667), (0.437672733, 3.743620833), (0.549645633, 3.800116667), (0.7802262, 3.800116667), (0.893028067, 3.743810633), (0.976240026, 3.576039029), align=None)
    extrude(amount=-CORTAR_EXTRUIR7_DEPTH, mode=Mode.SUBTRACT)

    # Croquis9 → Cortar-Extruir8 (cut)
    with BuildSketch(Plane.XZ):
        Polygon((-0.214632167, 3.88505), (-0.953983333, 3.88505), (-0.953983333, 2.61105), (-0.214632167, 2.61105), (-0.214632167, 2.695983333), (-0.86905, 2.695983333), (-0.86905, 3.205583333), (-0.5123963, 3.205583333), (-0.5123963, 3.290516667), (-0.86905, 3.290516667), (-0.86905, 3.800116667), (-0.214632167, 3.800116667), align=None)
    extrude(amount=-CORTAR_EXTRUIR8_DEPTH, mode=Mode.SUBTRACT)

    # Croquis10 → Cortar-Extruir9 (cut)
    with BuildSketch(Plane(origin=(0, 652, 0), x_dir=(-1, 0, 0), z_dir=(0, 1, 0))):
        Polygon((-0.214632167, 3.88505), (-0.953983333, 3.88505), (-0.953983333, 2.61105), (-0.214632167, 2.61105), (-0.214632167, 2.695983333), (-0.86905, 2.695983333), (-0.86905, 3.205583333), (-0.5123963, 3.205583333), (-0.5123963, 3.290516667), (-0.86905, 3.290516667), (-0.86905, 3.800116667), (-0.214632167, 3.800116667), align=None)
    extrude(amount=-CORTAR_EXTRUIR9_DEPTH, mode=Mode.SUBTRACT)

    # Croquis11 → Cortar-Extruir10 (cut)
    with BuildSketch(Plane.XZ):
        Polygon((0.510057167, 3.620830633), (0.6071, 3.718655633), (0.6071, 2.609403333), (0.692033333, 2.609403333), (0.692033333, 3.883403333), (0.6741176, 3.883403333), (0.6741176, 3.795069794), (0.3690544, 3.640736667), (0.3690544, 3.551253333), align=None)
    extrude(amount=-CORTAR_EXTRUIR10_DEPTH, mode=Mode.SUBTRACT)

    # Ángulo de salida1
    ngulo_de_salida1_faces = [part.faces().sort_by_distance(p)[0] for p in [
        (0.6741176, 0.001083333, 3.839236564),
    ]]
    draft(ngulo_de_salida1_faces, Plane(origin=(0.692033333, 0.002166667, 3.883403333), x_dir=(-1, 0, 0), z_dir=(0, 0, -1)), NGULO_DE_SALIDA1_ANGLE)

    # Chaflán1
    chafl_n1_edges = [part.edges().sort_by_distance(p)[0] for p in [
        (-4.5, 326, 0),
        (4.5, 326, 0),
    ]]
    chamfer(chafl_n1_edges, length=CHAFL_N1_SIZE)

    # Redondeo1
    redondeo1_edges = [part.edges().sort_by_distance(p)[0] for p in [
        (4.026513856, 326, 4.03150278),
        (4.5, 326, 3.583620931),
        (4.5, 326, 5.328056964),
        (4.026513974, 326, 4.88017535),
        (-4.026513826, 326, 4.88017535),
        (-4.5, 326, 5.328057255),
        (-4.5, 326, 3.583620926),
        (-4.026513851, 326, 4.03150278),
    ]]
    fillet(redondeo1_edges, radius=REDONDEO1_R)

    # Croquis34 → Taladro roscado M3.5x0.61 (revolve, cut)
    with BuildSketch(Plane(origin=(0, 16, 0), x_dir=(0, 1, 0), z_dir=(1, 0, 0))):
        Polygon((0, 0), (0, 8), (3, 8), (3, 3), (1.5, 3), (1.5, 0), align=None)
    taladro_roscado_m3_5x0_61 = revolve(axis=Axis((0, 16, -6.35), (0, 0, 1)), mode=Mode.SUBTRACT)

    # MatrizL2: Taladro roscado M3.5x0.61 ×32
    with Locations(*[(0, i * MATRIZL2_PITCH, 0) for i in range(1, MATRIZL2_COUNT)]):
        add(taladro_roscado_m3_5x0_61, mode=Mode.SUBTRACT)


solid = part.part
